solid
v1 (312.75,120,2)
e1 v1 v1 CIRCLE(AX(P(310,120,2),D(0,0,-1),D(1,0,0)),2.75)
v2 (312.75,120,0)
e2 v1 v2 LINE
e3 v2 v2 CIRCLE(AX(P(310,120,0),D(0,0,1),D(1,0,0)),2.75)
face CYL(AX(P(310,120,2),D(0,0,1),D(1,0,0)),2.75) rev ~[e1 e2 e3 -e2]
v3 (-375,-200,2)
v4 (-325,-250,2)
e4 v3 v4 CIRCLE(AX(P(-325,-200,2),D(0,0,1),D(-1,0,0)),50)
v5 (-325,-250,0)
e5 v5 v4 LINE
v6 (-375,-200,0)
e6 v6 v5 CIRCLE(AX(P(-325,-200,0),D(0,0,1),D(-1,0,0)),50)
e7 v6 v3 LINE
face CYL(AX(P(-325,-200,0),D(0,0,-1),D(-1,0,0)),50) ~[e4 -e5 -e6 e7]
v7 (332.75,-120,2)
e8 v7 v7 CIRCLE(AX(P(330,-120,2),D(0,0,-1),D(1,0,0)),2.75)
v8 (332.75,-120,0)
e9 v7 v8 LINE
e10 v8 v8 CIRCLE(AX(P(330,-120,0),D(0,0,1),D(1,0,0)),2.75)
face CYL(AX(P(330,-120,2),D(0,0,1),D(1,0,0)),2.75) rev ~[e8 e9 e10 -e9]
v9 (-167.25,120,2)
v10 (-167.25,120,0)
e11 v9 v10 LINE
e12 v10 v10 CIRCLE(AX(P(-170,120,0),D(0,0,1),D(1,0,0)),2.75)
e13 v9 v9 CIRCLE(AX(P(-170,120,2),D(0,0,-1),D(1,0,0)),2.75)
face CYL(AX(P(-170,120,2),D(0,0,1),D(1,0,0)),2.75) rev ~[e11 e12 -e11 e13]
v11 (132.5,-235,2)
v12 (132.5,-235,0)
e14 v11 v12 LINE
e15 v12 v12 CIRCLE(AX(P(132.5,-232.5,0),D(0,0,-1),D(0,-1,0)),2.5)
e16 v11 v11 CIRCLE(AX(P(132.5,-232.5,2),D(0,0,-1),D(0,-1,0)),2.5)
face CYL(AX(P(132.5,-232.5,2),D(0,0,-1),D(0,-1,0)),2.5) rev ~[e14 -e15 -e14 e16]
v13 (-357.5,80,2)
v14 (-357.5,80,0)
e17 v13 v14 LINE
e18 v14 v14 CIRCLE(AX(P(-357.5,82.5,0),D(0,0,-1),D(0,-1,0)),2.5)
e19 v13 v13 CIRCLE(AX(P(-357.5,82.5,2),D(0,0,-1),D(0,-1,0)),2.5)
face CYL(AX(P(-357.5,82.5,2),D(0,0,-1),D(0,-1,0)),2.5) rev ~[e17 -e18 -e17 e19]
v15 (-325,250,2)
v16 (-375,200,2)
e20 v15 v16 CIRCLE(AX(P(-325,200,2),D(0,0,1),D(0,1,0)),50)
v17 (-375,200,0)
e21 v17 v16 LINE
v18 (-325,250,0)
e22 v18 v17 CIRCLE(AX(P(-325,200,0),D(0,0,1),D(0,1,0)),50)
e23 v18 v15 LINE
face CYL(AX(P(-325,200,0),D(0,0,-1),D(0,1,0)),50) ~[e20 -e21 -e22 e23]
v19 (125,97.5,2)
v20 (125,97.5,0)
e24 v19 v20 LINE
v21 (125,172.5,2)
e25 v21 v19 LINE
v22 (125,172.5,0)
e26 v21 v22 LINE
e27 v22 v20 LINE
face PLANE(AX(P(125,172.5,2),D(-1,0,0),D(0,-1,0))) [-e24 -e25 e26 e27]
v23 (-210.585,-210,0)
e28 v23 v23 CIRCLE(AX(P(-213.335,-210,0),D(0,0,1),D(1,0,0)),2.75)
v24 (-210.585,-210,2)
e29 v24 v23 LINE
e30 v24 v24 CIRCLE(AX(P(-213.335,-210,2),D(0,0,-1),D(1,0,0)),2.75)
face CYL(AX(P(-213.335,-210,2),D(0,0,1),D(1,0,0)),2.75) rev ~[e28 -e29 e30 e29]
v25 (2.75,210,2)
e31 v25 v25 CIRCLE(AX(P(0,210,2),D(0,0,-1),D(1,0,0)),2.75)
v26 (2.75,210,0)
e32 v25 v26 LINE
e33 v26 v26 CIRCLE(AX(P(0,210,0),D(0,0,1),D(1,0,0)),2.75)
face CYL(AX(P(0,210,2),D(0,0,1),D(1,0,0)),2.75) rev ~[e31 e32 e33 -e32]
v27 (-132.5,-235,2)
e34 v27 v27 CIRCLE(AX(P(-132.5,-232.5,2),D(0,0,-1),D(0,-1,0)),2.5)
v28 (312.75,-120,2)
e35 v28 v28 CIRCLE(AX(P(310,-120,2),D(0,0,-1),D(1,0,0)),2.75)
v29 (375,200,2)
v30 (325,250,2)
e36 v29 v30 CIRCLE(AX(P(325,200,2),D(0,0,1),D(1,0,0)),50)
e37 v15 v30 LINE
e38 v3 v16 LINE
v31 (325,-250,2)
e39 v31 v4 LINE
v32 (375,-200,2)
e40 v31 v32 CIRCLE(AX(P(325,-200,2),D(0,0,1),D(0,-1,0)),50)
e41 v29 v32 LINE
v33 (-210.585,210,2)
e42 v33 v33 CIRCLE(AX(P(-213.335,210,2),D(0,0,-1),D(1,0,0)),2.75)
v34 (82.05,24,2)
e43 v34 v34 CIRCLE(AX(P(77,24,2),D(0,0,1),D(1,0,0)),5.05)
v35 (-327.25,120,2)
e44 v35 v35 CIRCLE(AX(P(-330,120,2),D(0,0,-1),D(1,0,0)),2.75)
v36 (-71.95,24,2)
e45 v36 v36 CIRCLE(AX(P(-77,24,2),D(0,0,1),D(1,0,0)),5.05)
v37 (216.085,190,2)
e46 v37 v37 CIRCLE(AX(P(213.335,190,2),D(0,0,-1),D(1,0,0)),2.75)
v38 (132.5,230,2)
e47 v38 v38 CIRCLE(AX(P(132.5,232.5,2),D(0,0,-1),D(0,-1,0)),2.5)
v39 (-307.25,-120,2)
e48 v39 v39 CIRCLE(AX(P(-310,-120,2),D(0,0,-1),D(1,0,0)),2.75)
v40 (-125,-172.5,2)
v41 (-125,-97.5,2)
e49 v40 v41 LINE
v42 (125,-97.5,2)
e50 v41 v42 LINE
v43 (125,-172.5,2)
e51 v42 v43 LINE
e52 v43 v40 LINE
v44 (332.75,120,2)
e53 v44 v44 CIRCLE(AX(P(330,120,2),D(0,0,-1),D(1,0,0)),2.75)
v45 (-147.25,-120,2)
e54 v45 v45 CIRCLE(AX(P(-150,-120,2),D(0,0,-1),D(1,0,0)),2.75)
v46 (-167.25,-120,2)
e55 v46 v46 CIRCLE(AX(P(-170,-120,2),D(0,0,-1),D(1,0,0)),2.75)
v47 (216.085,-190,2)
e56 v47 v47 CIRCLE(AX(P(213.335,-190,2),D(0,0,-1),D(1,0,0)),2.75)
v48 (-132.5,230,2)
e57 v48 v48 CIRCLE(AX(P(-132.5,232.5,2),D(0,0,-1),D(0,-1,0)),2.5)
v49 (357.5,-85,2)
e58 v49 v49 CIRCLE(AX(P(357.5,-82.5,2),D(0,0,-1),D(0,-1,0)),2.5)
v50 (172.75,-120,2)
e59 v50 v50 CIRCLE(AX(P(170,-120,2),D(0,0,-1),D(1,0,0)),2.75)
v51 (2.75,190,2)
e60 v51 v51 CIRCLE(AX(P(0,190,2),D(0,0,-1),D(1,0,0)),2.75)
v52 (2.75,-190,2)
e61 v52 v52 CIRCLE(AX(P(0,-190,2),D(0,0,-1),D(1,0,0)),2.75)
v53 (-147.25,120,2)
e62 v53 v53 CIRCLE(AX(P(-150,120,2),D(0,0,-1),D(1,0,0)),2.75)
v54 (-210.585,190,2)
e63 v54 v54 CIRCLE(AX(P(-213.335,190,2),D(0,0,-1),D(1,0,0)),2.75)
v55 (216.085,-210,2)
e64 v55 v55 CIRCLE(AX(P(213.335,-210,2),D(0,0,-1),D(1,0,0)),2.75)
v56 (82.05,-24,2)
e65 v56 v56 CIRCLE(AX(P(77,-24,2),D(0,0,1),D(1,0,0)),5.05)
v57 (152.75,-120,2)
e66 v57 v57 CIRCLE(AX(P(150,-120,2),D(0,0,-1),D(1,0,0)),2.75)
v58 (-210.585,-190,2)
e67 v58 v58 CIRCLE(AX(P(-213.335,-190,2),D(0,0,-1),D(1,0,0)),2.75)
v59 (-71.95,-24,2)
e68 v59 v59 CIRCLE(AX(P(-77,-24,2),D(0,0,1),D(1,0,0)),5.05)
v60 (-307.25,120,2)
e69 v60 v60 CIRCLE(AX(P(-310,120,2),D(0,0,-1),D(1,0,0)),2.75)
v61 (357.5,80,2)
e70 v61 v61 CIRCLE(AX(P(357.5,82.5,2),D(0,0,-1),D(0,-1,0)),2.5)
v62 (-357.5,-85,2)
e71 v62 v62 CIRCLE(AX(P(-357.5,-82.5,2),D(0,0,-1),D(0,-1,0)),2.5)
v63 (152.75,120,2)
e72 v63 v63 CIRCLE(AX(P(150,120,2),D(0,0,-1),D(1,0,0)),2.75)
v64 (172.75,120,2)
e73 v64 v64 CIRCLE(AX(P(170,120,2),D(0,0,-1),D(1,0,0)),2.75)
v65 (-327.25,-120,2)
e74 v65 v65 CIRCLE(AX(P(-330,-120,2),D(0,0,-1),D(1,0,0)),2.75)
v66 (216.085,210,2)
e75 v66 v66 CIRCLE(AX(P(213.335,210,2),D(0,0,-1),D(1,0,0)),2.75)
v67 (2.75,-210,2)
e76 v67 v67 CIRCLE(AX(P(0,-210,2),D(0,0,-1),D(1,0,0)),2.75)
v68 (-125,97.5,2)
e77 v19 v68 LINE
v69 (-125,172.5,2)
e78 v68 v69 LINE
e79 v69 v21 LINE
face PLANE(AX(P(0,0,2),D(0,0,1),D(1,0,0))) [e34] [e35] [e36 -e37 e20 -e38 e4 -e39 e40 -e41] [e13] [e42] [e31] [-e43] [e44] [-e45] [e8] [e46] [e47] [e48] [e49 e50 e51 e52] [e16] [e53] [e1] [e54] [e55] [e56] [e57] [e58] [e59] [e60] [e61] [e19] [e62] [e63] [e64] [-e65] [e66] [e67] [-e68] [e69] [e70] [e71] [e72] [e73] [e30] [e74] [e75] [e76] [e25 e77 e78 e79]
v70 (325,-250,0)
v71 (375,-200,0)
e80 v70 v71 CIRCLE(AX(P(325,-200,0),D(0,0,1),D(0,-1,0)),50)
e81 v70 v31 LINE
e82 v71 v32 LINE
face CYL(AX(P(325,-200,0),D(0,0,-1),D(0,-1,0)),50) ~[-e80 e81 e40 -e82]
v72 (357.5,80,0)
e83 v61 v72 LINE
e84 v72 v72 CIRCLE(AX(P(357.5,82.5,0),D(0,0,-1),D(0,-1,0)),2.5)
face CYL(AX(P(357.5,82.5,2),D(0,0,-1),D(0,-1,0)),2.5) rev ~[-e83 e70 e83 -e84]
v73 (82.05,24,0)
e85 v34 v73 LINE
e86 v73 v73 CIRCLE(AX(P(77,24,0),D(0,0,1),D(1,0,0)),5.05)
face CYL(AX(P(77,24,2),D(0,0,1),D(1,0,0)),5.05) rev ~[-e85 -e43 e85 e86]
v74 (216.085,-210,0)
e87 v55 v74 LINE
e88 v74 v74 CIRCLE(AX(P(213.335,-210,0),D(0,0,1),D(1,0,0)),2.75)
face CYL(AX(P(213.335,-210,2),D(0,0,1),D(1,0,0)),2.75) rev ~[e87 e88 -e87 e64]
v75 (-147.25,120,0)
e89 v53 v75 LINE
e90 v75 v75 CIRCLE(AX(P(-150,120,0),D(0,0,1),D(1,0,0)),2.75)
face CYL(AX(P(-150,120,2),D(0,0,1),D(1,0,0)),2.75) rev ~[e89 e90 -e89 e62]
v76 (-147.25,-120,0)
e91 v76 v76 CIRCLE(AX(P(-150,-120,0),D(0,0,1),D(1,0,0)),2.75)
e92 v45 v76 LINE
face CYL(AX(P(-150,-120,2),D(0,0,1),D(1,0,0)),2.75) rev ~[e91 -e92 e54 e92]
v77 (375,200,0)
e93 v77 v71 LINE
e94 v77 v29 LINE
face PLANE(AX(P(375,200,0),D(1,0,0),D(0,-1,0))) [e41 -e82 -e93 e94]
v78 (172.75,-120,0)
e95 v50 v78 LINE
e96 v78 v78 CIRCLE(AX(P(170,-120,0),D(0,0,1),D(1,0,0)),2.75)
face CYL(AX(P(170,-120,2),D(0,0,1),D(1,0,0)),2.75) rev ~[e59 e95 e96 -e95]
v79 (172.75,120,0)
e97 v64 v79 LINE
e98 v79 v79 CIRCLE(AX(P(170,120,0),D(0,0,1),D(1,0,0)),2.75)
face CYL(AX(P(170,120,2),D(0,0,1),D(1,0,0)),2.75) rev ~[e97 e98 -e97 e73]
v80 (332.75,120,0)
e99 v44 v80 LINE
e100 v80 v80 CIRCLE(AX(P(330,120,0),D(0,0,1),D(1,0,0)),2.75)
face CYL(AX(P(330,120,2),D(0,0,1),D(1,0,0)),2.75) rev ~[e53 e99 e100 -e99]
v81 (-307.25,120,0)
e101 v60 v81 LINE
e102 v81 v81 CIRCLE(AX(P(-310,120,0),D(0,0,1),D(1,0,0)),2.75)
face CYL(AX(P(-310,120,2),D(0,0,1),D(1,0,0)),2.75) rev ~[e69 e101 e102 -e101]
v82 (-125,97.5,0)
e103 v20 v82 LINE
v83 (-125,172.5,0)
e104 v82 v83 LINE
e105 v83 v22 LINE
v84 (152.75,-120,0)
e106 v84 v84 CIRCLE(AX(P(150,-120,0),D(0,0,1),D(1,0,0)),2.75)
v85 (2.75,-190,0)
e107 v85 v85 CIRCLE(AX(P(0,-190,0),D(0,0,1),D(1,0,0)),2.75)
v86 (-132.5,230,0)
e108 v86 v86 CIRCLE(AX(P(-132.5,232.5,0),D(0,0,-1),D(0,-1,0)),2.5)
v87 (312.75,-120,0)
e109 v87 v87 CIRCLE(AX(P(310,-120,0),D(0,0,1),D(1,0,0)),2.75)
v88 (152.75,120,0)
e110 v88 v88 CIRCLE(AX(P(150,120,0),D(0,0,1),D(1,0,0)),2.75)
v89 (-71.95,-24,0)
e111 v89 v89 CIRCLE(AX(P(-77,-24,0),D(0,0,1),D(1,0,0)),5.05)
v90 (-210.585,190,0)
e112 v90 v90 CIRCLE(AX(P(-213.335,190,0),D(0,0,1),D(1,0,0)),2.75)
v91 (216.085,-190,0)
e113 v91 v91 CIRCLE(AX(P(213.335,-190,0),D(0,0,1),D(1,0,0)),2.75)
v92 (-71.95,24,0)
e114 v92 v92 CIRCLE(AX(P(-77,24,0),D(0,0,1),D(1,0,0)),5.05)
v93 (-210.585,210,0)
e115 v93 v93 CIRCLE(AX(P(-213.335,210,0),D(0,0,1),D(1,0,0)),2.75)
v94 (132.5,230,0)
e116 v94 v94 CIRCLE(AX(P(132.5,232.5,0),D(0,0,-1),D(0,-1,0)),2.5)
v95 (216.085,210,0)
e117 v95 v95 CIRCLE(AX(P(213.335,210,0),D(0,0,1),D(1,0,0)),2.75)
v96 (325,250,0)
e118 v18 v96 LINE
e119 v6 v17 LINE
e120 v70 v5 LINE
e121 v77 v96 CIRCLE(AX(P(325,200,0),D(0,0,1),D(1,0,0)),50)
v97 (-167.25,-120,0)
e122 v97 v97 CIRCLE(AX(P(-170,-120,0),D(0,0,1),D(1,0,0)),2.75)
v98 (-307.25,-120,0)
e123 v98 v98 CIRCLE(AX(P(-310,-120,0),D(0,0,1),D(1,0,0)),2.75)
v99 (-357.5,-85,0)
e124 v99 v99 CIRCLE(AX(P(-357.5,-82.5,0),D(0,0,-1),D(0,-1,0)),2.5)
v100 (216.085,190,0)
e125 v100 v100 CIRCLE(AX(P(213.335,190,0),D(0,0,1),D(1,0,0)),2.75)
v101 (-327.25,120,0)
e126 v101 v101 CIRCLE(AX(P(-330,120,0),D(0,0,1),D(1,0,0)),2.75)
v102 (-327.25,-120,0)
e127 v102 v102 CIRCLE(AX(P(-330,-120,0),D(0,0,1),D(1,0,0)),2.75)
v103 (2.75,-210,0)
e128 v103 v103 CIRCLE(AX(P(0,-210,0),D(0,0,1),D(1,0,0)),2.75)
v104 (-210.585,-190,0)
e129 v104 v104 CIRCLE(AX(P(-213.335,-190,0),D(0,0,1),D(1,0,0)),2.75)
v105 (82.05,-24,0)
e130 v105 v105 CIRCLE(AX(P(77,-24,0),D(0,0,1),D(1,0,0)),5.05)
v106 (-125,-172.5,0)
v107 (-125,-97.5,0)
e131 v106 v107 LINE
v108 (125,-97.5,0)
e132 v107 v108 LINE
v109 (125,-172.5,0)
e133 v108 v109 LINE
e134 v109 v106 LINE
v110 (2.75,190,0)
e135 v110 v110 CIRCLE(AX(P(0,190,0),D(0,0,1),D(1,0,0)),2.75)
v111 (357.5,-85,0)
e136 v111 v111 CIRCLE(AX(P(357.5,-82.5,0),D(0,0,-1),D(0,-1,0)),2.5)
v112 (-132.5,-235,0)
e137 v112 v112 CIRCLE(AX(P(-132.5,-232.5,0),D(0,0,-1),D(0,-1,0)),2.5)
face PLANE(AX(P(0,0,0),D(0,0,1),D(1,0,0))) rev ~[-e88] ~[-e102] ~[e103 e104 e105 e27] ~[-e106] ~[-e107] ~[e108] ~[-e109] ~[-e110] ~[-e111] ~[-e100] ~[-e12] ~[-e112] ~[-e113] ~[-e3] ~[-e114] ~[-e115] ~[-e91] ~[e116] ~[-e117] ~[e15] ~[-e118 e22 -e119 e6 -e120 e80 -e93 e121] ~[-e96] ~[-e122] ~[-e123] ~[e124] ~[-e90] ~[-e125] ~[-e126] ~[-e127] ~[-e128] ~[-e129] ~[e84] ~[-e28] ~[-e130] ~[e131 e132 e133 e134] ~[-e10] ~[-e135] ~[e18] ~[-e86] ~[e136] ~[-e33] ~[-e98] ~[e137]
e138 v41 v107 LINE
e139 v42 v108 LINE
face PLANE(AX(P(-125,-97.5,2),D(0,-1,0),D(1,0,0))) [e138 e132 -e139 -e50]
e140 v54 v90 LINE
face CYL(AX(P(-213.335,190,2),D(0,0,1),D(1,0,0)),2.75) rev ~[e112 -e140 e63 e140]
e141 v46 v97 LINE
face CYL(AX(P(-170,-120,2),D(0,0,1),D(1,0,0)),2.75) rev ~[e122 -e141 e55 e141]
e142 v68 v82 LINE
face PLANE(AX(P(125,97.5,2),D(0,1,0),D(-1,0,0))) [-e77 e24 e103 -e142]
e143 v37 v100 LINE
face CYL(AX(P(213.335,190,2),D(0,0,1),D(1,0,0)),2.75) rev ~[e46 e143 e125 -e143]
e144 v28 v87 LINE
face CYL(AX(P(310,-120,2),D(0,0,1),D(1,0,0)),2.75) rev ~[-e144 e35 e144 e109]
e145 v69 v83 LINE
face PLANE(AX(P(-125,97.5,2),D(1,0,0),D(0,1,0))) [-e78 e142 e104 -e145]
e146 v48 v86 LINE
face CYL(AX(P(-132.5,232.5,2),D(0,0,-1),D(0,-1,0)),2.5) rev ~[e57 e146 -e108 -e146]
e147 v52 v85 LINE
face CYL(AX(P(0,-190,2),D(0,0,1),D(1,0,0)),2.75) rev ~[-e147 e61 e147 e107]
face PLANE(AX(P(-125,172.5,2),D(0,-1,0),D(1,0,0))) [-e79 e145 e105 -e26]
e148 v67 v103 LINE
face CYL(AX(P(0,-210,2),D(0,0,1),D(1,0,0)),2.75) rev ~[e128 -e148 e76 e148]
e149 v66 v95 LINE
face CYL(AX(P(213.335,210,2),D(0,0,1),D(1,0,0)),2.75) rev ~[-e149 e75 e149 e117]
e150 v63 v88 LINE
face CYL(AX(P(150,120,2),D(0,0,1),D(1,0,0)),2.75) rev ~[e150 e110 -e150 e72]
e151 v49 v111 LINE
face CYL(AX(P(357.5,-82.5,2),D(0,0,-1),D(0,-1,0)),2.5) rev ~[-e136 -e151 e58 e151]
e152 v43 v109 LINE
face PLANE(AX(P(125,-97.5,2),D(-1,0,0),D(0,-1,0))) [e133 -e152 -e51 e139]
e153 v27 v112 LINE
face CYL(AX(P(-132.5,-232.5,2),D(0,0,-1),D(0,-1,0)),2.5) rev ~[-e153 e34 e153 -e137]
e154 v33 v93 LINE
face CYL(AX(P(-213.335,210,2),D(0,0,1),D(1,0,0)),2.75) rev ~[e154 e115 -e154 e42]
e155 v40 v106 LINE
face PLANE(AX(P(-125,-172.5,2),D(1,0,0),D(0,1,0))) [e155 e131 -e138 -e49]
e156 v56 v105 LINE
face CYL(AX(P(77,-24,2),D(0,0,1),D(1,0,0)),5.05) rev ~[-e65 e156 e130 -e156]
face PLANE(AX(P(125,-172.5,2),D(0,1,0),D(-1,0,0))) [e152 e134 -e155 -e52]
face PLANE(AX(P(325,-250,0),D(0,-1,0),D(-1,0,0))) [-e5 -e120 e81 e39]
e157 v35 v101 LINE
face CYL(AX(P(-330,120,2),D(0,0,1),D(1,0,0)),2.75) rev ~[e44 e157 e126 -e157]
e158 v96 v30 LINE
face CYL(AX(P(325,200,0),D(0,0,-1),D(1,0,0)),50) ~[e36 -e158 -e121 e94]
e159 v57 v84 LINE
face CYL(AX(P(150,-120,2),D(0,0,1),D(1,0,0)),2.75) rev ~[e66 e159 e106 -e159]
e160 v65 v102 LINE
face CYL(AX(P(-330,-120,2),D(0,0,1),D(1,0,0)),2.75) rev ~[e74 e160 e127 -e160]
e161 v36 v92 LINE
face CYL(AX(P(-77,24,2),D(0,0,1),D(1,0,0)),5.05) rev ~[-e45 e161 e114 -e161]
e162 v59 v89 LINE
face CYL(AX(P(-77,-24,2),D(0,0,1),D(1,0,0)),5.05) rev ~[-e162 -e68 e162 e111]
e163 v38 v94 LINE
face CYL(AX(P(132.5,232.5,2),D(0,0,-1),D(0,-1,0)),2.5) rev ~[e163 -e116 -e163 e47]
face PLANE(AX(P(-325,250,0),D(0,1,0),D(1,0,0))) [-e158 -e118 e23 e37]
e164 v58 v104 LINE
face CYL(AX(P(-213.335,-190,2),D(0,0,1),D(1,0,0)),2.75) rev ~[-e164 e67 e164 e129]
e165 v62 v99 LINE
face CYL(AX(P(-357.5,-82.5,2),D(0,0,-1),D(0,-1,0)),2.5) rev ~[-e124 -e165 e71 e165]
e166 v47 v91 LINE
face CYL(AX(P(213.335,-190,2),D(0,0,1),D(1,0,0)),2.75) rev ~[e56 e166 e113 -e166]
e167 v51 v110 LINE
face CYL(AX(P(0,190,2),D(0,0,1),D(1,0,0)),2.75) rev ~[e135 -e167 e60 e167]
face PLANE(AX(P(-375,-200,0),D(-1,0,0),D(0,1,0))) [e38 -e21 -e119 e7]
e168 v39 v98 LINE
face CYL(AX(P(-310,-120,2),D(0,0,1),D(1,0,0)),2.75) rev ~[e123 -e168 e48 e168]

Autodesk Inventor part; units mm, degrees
ref_plane "YZ Plane" through (0, 0, 0) normal (1, 0, 0) x (0, 1, 0)
ref_plane "XZ Plane" through (0, 0, 0) normal (0, 1, 0) x (-1, 0, 0)
ref_plane "XY Plane" through (0, 0, 0) normal (0, 0, 1) x (1, 0, 0)
sketch "Sketch1" plane through (0, 0, 0) normal (0, 0, 1) x (1, 0, 0)
  line L0 (-325, 250) -> (325, 250)
  line L1 (375, 200) -> (375, -200)
  line L2 (325, -250) -> (-325, -250)
  line L3 (-375, -200) -> (-375, 200)
  line L4 (-375, 250) -> (375, -250) construction
  line L5 (375, 250) -> (-375, -250) construction
  arc A0 (-325, 250) -> (-375, 200) centre (-325, 200) ccw
  arc A1 (-375, -200) -> (-325, -250) centre (-325, -200) ccw
  arc A2 (375, 200) -> (325, 250) centre (325, 200) ccw
  arc A3 (325, -250) -> (375, -200) centre (325, -200) ccw
  point P0 (0, 0)
  dimension "d0" = 750
  dimension "d1" = 500
  dimension "d2" = 50
extrude "Extrusion1" add sketch "Sketch1" along normal blind 2
sketch "Sketch2" plane through (0, 0, 2) normal (0, 0, 1) x (1, 0, 0)
  line L0 (-340, 220) -> (340, 220)
  line L1 (340, 220) -> (340, -220)
  line L2 (340, -220) -> (-340, -220)
  line L3 (-340, -220) -> (-340, 220)
  line L4 (-340, 220) -> (340, -220) construction
  line L5 (340, 220) -> (-340, -220) construction
  line L6 (300, 180) -> (-300, 180)
  line L7 (-300, 180) -> (-300, -180)
  line L8 (-300, -180) -> (300, -180)
  line L9 (300, -180) -> (300, 180)
  line L10 (300, 180) -> (180, 180)
  line L11 (180, 180) -> (180, -180)
  line L12 (180, -180) -> (300, -180)
  line L13 (300, -180) -> (300, 180)
  line L14 (-300, 180) -> (-180, 180)
  line L15 (-180, 180) -> (-180, -180)
  line L16 (-180, -180) -> (-300, -180)
  line L17 (-300, -180) -> (-300, 180)
  line L18 (-140, -180) -> (140, -180)
  line L19 (140, -180) -> (140, 180)
  line L20 (140, 180) -> (-140, 180)
  line L21 (-140, 180) -> (-140, -180)
  line L22 (-140, -180) -> (140, 180) construction
  line L23 (140, -180) -> (-140, 180) construction
  line L24 (-150, 180) -> (-150, -180)
  line L25 (-170, 180) -> (-170, -180)
  line L26 (170, 180) -> (170, -180)
  line L27 (150, 180) -> (150, -180)
  line L28 (330, 210) -> (-330, 210)
  line L29 (-330, 210) -> (-330, -210)
  line L30 (-330, -210) -> (330, -210)
  line L31 (330, -210) -> (330, 210)
  line L32 (-310, 190) -> (310, 190)
  line L33 (310, 190) -> (310, -190)
  line L34 (310, -190) -> (-310, -190)
  line L35 (-310, -190) -> (-310, 190)
  circle A0 centre (0, -190) radius 2.75
  circle A1 centre (0, -210) radius 2.75
  circle A2 centre (0, 190) radius 2.75
  circle A3 centre (0, 210) radius 2.75
  circle A4 centre (-213.335, 210) radius 2.75
  circle A5 centre (-213.335, 190) radius 2.75
  circle A6 centre (-310, 120) radius 2.75
  circle A7 centre (-330, 120) radius 2.75
  circle A8 centre (-330, -120) radius 2.75
  circle A9 centre (-310, -120) radius 2.75
  circle A10 centre (-213.335, -190) radius 2.75
  circle A11 centre (-213.335, -210) radius 2.75
  circle A12 centre (213.335, 190) radius 2.75
  circle A13 centre (213.335, 210) radius 2.75
  circle A14 centre (213.335, -190) radius 2.75
  circle A15 centre (213.335, -210) radius 2.75
  circle A16 centre (310, 120) radius 2.75
  circle A17 centre (330, 120) radius 2.75
  circle A18 centre (310, -120) radius 2.75
  circle A19 centre (330, -120) radius 2.75
  circle A20 centre (-170, 120) radius 2.75
  circle A21 centre (-150, 120) radius 2.75
  circle A22 centre (150, 120) radius 2.75
  circle A23 centre (170, 120) radius 2.75
  circle A24 centre (-170, -120) radius 2.75
  circle A25 centre (-150, -120) radius 2.75
  circle A26 centre (150, -120) radius 2.75
  circle A27 centre (170, -120) radius 2.75
  line L36 (-125, 172.5) -> (125, 172.5)
  line L37 (125, 172.5) -> (125, 97.5)
  line L38 (125, 97.5) -> (-125, 97.5)
  line L39 (-125, 97.5) -> (-125, 172.5)
  line L40 (-125, -97.5) -> (125, -97.5)
  line L41 (125, -97.5) -> (125, -172.5)
  line L42 (125, -172.5) -> (-125, -172.5)
  line L43 (-125, -172.5) -> (-125, -97.5)
  circle A28 centre (77, 24) radius 5.05
  circle A29 centre (-77, 24) radius 5.05
  circle A30 centre (77, -24) radius 5.05
  circle A31 centre (-77, -24) radius 5.05
  point P0 (0, 0)
  dimension "d5" = 680
  dimension "d6" = 440
  dimension "d17" = 280
  dimension "d18" = 10
  dimension "d19" = 10
  dimension "d20" = 10
  dimension "d21" = 10
  dimension "d22" = 360
  dimension "d23" = 180
  dimension "d24" = 300
  dimension "d25" = 40
  dimension "d26" = 10
  dimension "d27" = 20
  dimension "d28" = 5.5
  dimension "d29" = 5.5
  dimension "d30" = 5.5
  dimension "d31" = 5.5
  dimension "d32" = 5.5
  dimension "d33" = 5.5
  dimension "d34" = 5.5
  dimension "d35" = 5.5
  dimension "d36" = 5.5
  dimension "d37" = 5.5
  dimension "d38" = 5.5
  dimension "d39" = 5.5
  dimension "d40" = 5.5
  dimension "d41" = 5.5
  dimension "d42" = 5.5
  dimension "d43" = 5.5
  dimension "d44" = 5.5
  dimension "d45" = 5.5
  dimension "d46" = 5.5
  dimension "d47" = 5.5
  dimension "d48" = 233.33
  dimension "d49" = 193.33
  dimension "d50" = 193.33
  dimension "d51" = 233.33
  dimension "d52" = 233.33
  dimension "d53" = 193.33
  dimension "d54" = 233.33
  dimension "d55" = 193.33
  dimension "d56" = 60
  dimension "d57" = 60
  dimension "d58" = 60
  dimension "d59" = 60
  dimension "d60" = 60
  dimension "d61" = 60
  dimension "d62" = 60
  dimension "d63" = 60
  dimension "d64" = 5.5
  dimension "d65" = 5.5
  dimension "d66" = 5.5
  dimension "d67" = 5.5
  dimension "d68" = 5.5
  dimension "d69" = 5.5
  dimension "d70" = 5.5
  dimension "d71" = 5.5
  dimension "d72" = 60
  dimension "d73" = 60
  dimension "d74" = 60
  dimension "d75" = 60
  dimension "d76" = 60
  dimension "d77" = 60
  dimension "d78" = 60
extrude "Extrusion2" cut sketch "Sketch2" against normal through all contours A23 L26 | L26 A23 | A22 L27 | L27 A22 | A27 L26 | L26 A27 | A26 L27 | L27 A26 | A21 L24 | L24 A21 | A20 L25 | L25 A20 | A25 L24 | L24 A25 | A24 L25 | L25 A24 | A13 L28 | L28 A13 | A17 L31 | L31 A17 | A3 L28 | L28 A3 | A19 L31 | L31 A19 | A4 L28 | L28 A4 | A15 L30 | L30 A15 | A7 L29 | L29 A7 | A1 L30 | L30 A1 | A8 L29 | L29 A8 | A11 L30 | L30 A11 | A12 L32 | L32 A12 | A16 L33 | L33 A16 | A2 L32 | L32 A2 | A18 L33 | L33 A18 | A5 L32 | L32 A5 | A14 L34 | L34 A14 | A6 L35 | L35 A6 | A0 L34 | L34 A0 | A9 L35 | L35 A9 | A10 L34 | L34 A10 | L36 L37 L38 L39 | L40 L41 L42 L43 | A28 | A29 | A30 | A31
sketch "Sketch4" plane through (0, 0, 2) normal (0, 0, 1) x (1, 0, 0)
  line L0 (-276.0768, 250) -> (273.9232, 250)
  line L1 (-140, 250) -> (-125, 250)
  line L2 (-125, -250) -> (-140, -250)
  line L3 (125, 250) -> (140, 250)
  line L4 (140, -250) -> (125, -250)
  line L5 (-375, -150.5131) -> (-375, 149.4869)
  line L6 (375, 90) -> (375, 75)
  line L7 (-375, 75) -> (-375, 90)
  line L8 (375, 149.4869) -> (375, -150.5131)
  line L9 (375, -75) -> (375, -90)
  line L10 (273.9232, -250) -> (-276.0768, -250)
  line L11 (125, 232.5) -> (125, 250)
  line L12 (140, 250) -> (140, 232.5)
  line L13 (-125, 250) -> (-125, 232.5)
  line L14 (-140, 232.5) -> (-140, 250)
  line L15 (-375, 90) -> (-357.5, 90)
  line L16 (-357.5, 75) -> (-375, 75)
  line L17 (-375, -75) -> (-357.5, -75)
  line L18 (-357.5, -90) -> (-376.0768, -90)
  line L19 (-140, -250) -> (-140, -232.5)
  line L20 (-125, -232.5) -> (-125, -250)
  line L21 (140, -232.5) -> (140, -250)
  line L22 (125, -250) -> (125, -232.5)
  line L23 (357.5, -75) -> (375, -75)
  line L24 (375, -90) -> (357.5, -90)
  line L25 (357.5, 90) -> (375, 90)
  line L26 (375, 75) -> (357.5, 75)
  arc A0 (-140, 232.5) -> (-125, 232.5) centre (-132.5, 232.5) ccw
  arc A1 (125, 232.5) -> (140, 232.5) centre (132.5, 232.5) ccw
  arc A2 (-357.5, 75) -> (-357.5, 90) centre (-357.5, 82.5) ccw
  arc A3 (-357.5, -90) -> (-357.5, -75) centre (-357.5, -82.5) ccw
  arc A4 (-125, -232.5) -> (-140, -232.5) centre (-132.5, -232.5) ccw
  arc A5 (140, -232.5) -> (125, -232.5) centre (132.5, -232.5) ccw
  arc A6 (357.5, -75) -> (357.5, -90) centre (357.5, -82.5) ccw
  arc A7 (357.5, 90) -> (357.5, 75) centre (357.5, 82.5) ccw
  circle A8 centre (132.5, 232.5) radius 2.5
  circle A9 centre (-132.5, 232.5) radius 2.5
  circle A10 centre (-357.5, 82.5) radius 2.5
  circle A11 centre (-357.5, -82.5) radius 2.5
  circle A12 centre (-132.5, -232.5) radius 2.5
  circle A13 centre (132.5, -232.5) radius 2.5
  circle A14 centre (357.5, -82.5) radius 2.5
  circle A15 centre (357.5, 82.5) radius 2.5
  line L27 (-375, 200) -> (-375, -200) projected
  line L28 (325, 250) -> (-325, 250) projected
  point P0 (0, 0)
  point P1 (-132.5, -250)
  point P2 (132.5, -250)
  point P3 (125, 236.9869)
  point P4 (-140, 236.9869)
  point P5 (-125, 236.9869)
  point P6 (140, 236.9869)
  point P7 (-363.5768, 75)
  point P8 (373.8194, -75)
  point P9 (361.4232, 75)
  point P10 (361.4232, -90)
  point P11 (125, -238.0131)
  point P12 (-140, -238.0131)
  point P13 (-132.5, 225)
  point P14 (375, 82.5)
  point P15 (350, 82.5)
  dimension "d101" = 750
  dimension "d102" = 15
  dimension "d103" = 0
  dimension "d104" = 250
  dimension "d105" = 235
  dimension "d106" = 15
  dimension "d107" = 15
  dimension "d108" = 15
  dimension "d109" = 150
  dimension "d110" = 160
  dimension "d111" = 15
  dimension "d113" = 160
  dimension "d114" = 15
  dimension "d115" = 15
  dimension "d116" = 250
  dimension "d117" = 250
  dimension "d118" = 15
  dimension "d119" = 5
  dimension "d120" = 5
  dimension "d121" = 5
  dimension "d122" = 5
  dimension "d123" = 5
  dimension "d124" = 5
  dimension "d125" = 5
  dimension "d126" = 5
  dimension "d127" = 17.5
  dimension "d128" = 5
  dimension "d129" = 750
  dimension "d131" = 500
  dimension "d132" = 0
  dimension "d133" = 0
  dimension "d134" = 17.5
  dimension "d135" = 17.5
  dimension "d136" = 7.5
  dimension "d137" = 17.5
  dimension "d138" = 17.5
  dimension "d139" = 17.5
  dimension "d140" = 17.5
  dimension "d141" = 25
  dimension "d142" = 150
hole "Hole2" at (-357.5, 82.5, 2) at (-357.5, -82.5, 2) at (-132.5, -232.5, 2) at (132.5, -232.5, 2) at (357.5, -82.5, 2) at (357.5, 82.5, 2) at (132.5, 232.5, 2) at (-132.5, 232.5, 2) direction (0, 0, -1) diameter 5 end through all
equation "\"BendRadius\" = Thickness"
equation "\"BendReliefWidth\" = Thickness"
equation "\"BendReliefDepth\" = 0.5 * Thickness"
equation "\"CornerReliefSize\" = 4 * Thickness"
equation "\"MinimumRemnant\" = 2 * Thickness"
equation "\"TransitionRadius\" = BendRadius"
equation "\"JacobiRadiusSize\" = BendRadius"
equation "\"GapSize\" = Thickness"
equation "\"Thickness\" = 2"
properties part number "plate2mm" material "Aluminum 6061"
